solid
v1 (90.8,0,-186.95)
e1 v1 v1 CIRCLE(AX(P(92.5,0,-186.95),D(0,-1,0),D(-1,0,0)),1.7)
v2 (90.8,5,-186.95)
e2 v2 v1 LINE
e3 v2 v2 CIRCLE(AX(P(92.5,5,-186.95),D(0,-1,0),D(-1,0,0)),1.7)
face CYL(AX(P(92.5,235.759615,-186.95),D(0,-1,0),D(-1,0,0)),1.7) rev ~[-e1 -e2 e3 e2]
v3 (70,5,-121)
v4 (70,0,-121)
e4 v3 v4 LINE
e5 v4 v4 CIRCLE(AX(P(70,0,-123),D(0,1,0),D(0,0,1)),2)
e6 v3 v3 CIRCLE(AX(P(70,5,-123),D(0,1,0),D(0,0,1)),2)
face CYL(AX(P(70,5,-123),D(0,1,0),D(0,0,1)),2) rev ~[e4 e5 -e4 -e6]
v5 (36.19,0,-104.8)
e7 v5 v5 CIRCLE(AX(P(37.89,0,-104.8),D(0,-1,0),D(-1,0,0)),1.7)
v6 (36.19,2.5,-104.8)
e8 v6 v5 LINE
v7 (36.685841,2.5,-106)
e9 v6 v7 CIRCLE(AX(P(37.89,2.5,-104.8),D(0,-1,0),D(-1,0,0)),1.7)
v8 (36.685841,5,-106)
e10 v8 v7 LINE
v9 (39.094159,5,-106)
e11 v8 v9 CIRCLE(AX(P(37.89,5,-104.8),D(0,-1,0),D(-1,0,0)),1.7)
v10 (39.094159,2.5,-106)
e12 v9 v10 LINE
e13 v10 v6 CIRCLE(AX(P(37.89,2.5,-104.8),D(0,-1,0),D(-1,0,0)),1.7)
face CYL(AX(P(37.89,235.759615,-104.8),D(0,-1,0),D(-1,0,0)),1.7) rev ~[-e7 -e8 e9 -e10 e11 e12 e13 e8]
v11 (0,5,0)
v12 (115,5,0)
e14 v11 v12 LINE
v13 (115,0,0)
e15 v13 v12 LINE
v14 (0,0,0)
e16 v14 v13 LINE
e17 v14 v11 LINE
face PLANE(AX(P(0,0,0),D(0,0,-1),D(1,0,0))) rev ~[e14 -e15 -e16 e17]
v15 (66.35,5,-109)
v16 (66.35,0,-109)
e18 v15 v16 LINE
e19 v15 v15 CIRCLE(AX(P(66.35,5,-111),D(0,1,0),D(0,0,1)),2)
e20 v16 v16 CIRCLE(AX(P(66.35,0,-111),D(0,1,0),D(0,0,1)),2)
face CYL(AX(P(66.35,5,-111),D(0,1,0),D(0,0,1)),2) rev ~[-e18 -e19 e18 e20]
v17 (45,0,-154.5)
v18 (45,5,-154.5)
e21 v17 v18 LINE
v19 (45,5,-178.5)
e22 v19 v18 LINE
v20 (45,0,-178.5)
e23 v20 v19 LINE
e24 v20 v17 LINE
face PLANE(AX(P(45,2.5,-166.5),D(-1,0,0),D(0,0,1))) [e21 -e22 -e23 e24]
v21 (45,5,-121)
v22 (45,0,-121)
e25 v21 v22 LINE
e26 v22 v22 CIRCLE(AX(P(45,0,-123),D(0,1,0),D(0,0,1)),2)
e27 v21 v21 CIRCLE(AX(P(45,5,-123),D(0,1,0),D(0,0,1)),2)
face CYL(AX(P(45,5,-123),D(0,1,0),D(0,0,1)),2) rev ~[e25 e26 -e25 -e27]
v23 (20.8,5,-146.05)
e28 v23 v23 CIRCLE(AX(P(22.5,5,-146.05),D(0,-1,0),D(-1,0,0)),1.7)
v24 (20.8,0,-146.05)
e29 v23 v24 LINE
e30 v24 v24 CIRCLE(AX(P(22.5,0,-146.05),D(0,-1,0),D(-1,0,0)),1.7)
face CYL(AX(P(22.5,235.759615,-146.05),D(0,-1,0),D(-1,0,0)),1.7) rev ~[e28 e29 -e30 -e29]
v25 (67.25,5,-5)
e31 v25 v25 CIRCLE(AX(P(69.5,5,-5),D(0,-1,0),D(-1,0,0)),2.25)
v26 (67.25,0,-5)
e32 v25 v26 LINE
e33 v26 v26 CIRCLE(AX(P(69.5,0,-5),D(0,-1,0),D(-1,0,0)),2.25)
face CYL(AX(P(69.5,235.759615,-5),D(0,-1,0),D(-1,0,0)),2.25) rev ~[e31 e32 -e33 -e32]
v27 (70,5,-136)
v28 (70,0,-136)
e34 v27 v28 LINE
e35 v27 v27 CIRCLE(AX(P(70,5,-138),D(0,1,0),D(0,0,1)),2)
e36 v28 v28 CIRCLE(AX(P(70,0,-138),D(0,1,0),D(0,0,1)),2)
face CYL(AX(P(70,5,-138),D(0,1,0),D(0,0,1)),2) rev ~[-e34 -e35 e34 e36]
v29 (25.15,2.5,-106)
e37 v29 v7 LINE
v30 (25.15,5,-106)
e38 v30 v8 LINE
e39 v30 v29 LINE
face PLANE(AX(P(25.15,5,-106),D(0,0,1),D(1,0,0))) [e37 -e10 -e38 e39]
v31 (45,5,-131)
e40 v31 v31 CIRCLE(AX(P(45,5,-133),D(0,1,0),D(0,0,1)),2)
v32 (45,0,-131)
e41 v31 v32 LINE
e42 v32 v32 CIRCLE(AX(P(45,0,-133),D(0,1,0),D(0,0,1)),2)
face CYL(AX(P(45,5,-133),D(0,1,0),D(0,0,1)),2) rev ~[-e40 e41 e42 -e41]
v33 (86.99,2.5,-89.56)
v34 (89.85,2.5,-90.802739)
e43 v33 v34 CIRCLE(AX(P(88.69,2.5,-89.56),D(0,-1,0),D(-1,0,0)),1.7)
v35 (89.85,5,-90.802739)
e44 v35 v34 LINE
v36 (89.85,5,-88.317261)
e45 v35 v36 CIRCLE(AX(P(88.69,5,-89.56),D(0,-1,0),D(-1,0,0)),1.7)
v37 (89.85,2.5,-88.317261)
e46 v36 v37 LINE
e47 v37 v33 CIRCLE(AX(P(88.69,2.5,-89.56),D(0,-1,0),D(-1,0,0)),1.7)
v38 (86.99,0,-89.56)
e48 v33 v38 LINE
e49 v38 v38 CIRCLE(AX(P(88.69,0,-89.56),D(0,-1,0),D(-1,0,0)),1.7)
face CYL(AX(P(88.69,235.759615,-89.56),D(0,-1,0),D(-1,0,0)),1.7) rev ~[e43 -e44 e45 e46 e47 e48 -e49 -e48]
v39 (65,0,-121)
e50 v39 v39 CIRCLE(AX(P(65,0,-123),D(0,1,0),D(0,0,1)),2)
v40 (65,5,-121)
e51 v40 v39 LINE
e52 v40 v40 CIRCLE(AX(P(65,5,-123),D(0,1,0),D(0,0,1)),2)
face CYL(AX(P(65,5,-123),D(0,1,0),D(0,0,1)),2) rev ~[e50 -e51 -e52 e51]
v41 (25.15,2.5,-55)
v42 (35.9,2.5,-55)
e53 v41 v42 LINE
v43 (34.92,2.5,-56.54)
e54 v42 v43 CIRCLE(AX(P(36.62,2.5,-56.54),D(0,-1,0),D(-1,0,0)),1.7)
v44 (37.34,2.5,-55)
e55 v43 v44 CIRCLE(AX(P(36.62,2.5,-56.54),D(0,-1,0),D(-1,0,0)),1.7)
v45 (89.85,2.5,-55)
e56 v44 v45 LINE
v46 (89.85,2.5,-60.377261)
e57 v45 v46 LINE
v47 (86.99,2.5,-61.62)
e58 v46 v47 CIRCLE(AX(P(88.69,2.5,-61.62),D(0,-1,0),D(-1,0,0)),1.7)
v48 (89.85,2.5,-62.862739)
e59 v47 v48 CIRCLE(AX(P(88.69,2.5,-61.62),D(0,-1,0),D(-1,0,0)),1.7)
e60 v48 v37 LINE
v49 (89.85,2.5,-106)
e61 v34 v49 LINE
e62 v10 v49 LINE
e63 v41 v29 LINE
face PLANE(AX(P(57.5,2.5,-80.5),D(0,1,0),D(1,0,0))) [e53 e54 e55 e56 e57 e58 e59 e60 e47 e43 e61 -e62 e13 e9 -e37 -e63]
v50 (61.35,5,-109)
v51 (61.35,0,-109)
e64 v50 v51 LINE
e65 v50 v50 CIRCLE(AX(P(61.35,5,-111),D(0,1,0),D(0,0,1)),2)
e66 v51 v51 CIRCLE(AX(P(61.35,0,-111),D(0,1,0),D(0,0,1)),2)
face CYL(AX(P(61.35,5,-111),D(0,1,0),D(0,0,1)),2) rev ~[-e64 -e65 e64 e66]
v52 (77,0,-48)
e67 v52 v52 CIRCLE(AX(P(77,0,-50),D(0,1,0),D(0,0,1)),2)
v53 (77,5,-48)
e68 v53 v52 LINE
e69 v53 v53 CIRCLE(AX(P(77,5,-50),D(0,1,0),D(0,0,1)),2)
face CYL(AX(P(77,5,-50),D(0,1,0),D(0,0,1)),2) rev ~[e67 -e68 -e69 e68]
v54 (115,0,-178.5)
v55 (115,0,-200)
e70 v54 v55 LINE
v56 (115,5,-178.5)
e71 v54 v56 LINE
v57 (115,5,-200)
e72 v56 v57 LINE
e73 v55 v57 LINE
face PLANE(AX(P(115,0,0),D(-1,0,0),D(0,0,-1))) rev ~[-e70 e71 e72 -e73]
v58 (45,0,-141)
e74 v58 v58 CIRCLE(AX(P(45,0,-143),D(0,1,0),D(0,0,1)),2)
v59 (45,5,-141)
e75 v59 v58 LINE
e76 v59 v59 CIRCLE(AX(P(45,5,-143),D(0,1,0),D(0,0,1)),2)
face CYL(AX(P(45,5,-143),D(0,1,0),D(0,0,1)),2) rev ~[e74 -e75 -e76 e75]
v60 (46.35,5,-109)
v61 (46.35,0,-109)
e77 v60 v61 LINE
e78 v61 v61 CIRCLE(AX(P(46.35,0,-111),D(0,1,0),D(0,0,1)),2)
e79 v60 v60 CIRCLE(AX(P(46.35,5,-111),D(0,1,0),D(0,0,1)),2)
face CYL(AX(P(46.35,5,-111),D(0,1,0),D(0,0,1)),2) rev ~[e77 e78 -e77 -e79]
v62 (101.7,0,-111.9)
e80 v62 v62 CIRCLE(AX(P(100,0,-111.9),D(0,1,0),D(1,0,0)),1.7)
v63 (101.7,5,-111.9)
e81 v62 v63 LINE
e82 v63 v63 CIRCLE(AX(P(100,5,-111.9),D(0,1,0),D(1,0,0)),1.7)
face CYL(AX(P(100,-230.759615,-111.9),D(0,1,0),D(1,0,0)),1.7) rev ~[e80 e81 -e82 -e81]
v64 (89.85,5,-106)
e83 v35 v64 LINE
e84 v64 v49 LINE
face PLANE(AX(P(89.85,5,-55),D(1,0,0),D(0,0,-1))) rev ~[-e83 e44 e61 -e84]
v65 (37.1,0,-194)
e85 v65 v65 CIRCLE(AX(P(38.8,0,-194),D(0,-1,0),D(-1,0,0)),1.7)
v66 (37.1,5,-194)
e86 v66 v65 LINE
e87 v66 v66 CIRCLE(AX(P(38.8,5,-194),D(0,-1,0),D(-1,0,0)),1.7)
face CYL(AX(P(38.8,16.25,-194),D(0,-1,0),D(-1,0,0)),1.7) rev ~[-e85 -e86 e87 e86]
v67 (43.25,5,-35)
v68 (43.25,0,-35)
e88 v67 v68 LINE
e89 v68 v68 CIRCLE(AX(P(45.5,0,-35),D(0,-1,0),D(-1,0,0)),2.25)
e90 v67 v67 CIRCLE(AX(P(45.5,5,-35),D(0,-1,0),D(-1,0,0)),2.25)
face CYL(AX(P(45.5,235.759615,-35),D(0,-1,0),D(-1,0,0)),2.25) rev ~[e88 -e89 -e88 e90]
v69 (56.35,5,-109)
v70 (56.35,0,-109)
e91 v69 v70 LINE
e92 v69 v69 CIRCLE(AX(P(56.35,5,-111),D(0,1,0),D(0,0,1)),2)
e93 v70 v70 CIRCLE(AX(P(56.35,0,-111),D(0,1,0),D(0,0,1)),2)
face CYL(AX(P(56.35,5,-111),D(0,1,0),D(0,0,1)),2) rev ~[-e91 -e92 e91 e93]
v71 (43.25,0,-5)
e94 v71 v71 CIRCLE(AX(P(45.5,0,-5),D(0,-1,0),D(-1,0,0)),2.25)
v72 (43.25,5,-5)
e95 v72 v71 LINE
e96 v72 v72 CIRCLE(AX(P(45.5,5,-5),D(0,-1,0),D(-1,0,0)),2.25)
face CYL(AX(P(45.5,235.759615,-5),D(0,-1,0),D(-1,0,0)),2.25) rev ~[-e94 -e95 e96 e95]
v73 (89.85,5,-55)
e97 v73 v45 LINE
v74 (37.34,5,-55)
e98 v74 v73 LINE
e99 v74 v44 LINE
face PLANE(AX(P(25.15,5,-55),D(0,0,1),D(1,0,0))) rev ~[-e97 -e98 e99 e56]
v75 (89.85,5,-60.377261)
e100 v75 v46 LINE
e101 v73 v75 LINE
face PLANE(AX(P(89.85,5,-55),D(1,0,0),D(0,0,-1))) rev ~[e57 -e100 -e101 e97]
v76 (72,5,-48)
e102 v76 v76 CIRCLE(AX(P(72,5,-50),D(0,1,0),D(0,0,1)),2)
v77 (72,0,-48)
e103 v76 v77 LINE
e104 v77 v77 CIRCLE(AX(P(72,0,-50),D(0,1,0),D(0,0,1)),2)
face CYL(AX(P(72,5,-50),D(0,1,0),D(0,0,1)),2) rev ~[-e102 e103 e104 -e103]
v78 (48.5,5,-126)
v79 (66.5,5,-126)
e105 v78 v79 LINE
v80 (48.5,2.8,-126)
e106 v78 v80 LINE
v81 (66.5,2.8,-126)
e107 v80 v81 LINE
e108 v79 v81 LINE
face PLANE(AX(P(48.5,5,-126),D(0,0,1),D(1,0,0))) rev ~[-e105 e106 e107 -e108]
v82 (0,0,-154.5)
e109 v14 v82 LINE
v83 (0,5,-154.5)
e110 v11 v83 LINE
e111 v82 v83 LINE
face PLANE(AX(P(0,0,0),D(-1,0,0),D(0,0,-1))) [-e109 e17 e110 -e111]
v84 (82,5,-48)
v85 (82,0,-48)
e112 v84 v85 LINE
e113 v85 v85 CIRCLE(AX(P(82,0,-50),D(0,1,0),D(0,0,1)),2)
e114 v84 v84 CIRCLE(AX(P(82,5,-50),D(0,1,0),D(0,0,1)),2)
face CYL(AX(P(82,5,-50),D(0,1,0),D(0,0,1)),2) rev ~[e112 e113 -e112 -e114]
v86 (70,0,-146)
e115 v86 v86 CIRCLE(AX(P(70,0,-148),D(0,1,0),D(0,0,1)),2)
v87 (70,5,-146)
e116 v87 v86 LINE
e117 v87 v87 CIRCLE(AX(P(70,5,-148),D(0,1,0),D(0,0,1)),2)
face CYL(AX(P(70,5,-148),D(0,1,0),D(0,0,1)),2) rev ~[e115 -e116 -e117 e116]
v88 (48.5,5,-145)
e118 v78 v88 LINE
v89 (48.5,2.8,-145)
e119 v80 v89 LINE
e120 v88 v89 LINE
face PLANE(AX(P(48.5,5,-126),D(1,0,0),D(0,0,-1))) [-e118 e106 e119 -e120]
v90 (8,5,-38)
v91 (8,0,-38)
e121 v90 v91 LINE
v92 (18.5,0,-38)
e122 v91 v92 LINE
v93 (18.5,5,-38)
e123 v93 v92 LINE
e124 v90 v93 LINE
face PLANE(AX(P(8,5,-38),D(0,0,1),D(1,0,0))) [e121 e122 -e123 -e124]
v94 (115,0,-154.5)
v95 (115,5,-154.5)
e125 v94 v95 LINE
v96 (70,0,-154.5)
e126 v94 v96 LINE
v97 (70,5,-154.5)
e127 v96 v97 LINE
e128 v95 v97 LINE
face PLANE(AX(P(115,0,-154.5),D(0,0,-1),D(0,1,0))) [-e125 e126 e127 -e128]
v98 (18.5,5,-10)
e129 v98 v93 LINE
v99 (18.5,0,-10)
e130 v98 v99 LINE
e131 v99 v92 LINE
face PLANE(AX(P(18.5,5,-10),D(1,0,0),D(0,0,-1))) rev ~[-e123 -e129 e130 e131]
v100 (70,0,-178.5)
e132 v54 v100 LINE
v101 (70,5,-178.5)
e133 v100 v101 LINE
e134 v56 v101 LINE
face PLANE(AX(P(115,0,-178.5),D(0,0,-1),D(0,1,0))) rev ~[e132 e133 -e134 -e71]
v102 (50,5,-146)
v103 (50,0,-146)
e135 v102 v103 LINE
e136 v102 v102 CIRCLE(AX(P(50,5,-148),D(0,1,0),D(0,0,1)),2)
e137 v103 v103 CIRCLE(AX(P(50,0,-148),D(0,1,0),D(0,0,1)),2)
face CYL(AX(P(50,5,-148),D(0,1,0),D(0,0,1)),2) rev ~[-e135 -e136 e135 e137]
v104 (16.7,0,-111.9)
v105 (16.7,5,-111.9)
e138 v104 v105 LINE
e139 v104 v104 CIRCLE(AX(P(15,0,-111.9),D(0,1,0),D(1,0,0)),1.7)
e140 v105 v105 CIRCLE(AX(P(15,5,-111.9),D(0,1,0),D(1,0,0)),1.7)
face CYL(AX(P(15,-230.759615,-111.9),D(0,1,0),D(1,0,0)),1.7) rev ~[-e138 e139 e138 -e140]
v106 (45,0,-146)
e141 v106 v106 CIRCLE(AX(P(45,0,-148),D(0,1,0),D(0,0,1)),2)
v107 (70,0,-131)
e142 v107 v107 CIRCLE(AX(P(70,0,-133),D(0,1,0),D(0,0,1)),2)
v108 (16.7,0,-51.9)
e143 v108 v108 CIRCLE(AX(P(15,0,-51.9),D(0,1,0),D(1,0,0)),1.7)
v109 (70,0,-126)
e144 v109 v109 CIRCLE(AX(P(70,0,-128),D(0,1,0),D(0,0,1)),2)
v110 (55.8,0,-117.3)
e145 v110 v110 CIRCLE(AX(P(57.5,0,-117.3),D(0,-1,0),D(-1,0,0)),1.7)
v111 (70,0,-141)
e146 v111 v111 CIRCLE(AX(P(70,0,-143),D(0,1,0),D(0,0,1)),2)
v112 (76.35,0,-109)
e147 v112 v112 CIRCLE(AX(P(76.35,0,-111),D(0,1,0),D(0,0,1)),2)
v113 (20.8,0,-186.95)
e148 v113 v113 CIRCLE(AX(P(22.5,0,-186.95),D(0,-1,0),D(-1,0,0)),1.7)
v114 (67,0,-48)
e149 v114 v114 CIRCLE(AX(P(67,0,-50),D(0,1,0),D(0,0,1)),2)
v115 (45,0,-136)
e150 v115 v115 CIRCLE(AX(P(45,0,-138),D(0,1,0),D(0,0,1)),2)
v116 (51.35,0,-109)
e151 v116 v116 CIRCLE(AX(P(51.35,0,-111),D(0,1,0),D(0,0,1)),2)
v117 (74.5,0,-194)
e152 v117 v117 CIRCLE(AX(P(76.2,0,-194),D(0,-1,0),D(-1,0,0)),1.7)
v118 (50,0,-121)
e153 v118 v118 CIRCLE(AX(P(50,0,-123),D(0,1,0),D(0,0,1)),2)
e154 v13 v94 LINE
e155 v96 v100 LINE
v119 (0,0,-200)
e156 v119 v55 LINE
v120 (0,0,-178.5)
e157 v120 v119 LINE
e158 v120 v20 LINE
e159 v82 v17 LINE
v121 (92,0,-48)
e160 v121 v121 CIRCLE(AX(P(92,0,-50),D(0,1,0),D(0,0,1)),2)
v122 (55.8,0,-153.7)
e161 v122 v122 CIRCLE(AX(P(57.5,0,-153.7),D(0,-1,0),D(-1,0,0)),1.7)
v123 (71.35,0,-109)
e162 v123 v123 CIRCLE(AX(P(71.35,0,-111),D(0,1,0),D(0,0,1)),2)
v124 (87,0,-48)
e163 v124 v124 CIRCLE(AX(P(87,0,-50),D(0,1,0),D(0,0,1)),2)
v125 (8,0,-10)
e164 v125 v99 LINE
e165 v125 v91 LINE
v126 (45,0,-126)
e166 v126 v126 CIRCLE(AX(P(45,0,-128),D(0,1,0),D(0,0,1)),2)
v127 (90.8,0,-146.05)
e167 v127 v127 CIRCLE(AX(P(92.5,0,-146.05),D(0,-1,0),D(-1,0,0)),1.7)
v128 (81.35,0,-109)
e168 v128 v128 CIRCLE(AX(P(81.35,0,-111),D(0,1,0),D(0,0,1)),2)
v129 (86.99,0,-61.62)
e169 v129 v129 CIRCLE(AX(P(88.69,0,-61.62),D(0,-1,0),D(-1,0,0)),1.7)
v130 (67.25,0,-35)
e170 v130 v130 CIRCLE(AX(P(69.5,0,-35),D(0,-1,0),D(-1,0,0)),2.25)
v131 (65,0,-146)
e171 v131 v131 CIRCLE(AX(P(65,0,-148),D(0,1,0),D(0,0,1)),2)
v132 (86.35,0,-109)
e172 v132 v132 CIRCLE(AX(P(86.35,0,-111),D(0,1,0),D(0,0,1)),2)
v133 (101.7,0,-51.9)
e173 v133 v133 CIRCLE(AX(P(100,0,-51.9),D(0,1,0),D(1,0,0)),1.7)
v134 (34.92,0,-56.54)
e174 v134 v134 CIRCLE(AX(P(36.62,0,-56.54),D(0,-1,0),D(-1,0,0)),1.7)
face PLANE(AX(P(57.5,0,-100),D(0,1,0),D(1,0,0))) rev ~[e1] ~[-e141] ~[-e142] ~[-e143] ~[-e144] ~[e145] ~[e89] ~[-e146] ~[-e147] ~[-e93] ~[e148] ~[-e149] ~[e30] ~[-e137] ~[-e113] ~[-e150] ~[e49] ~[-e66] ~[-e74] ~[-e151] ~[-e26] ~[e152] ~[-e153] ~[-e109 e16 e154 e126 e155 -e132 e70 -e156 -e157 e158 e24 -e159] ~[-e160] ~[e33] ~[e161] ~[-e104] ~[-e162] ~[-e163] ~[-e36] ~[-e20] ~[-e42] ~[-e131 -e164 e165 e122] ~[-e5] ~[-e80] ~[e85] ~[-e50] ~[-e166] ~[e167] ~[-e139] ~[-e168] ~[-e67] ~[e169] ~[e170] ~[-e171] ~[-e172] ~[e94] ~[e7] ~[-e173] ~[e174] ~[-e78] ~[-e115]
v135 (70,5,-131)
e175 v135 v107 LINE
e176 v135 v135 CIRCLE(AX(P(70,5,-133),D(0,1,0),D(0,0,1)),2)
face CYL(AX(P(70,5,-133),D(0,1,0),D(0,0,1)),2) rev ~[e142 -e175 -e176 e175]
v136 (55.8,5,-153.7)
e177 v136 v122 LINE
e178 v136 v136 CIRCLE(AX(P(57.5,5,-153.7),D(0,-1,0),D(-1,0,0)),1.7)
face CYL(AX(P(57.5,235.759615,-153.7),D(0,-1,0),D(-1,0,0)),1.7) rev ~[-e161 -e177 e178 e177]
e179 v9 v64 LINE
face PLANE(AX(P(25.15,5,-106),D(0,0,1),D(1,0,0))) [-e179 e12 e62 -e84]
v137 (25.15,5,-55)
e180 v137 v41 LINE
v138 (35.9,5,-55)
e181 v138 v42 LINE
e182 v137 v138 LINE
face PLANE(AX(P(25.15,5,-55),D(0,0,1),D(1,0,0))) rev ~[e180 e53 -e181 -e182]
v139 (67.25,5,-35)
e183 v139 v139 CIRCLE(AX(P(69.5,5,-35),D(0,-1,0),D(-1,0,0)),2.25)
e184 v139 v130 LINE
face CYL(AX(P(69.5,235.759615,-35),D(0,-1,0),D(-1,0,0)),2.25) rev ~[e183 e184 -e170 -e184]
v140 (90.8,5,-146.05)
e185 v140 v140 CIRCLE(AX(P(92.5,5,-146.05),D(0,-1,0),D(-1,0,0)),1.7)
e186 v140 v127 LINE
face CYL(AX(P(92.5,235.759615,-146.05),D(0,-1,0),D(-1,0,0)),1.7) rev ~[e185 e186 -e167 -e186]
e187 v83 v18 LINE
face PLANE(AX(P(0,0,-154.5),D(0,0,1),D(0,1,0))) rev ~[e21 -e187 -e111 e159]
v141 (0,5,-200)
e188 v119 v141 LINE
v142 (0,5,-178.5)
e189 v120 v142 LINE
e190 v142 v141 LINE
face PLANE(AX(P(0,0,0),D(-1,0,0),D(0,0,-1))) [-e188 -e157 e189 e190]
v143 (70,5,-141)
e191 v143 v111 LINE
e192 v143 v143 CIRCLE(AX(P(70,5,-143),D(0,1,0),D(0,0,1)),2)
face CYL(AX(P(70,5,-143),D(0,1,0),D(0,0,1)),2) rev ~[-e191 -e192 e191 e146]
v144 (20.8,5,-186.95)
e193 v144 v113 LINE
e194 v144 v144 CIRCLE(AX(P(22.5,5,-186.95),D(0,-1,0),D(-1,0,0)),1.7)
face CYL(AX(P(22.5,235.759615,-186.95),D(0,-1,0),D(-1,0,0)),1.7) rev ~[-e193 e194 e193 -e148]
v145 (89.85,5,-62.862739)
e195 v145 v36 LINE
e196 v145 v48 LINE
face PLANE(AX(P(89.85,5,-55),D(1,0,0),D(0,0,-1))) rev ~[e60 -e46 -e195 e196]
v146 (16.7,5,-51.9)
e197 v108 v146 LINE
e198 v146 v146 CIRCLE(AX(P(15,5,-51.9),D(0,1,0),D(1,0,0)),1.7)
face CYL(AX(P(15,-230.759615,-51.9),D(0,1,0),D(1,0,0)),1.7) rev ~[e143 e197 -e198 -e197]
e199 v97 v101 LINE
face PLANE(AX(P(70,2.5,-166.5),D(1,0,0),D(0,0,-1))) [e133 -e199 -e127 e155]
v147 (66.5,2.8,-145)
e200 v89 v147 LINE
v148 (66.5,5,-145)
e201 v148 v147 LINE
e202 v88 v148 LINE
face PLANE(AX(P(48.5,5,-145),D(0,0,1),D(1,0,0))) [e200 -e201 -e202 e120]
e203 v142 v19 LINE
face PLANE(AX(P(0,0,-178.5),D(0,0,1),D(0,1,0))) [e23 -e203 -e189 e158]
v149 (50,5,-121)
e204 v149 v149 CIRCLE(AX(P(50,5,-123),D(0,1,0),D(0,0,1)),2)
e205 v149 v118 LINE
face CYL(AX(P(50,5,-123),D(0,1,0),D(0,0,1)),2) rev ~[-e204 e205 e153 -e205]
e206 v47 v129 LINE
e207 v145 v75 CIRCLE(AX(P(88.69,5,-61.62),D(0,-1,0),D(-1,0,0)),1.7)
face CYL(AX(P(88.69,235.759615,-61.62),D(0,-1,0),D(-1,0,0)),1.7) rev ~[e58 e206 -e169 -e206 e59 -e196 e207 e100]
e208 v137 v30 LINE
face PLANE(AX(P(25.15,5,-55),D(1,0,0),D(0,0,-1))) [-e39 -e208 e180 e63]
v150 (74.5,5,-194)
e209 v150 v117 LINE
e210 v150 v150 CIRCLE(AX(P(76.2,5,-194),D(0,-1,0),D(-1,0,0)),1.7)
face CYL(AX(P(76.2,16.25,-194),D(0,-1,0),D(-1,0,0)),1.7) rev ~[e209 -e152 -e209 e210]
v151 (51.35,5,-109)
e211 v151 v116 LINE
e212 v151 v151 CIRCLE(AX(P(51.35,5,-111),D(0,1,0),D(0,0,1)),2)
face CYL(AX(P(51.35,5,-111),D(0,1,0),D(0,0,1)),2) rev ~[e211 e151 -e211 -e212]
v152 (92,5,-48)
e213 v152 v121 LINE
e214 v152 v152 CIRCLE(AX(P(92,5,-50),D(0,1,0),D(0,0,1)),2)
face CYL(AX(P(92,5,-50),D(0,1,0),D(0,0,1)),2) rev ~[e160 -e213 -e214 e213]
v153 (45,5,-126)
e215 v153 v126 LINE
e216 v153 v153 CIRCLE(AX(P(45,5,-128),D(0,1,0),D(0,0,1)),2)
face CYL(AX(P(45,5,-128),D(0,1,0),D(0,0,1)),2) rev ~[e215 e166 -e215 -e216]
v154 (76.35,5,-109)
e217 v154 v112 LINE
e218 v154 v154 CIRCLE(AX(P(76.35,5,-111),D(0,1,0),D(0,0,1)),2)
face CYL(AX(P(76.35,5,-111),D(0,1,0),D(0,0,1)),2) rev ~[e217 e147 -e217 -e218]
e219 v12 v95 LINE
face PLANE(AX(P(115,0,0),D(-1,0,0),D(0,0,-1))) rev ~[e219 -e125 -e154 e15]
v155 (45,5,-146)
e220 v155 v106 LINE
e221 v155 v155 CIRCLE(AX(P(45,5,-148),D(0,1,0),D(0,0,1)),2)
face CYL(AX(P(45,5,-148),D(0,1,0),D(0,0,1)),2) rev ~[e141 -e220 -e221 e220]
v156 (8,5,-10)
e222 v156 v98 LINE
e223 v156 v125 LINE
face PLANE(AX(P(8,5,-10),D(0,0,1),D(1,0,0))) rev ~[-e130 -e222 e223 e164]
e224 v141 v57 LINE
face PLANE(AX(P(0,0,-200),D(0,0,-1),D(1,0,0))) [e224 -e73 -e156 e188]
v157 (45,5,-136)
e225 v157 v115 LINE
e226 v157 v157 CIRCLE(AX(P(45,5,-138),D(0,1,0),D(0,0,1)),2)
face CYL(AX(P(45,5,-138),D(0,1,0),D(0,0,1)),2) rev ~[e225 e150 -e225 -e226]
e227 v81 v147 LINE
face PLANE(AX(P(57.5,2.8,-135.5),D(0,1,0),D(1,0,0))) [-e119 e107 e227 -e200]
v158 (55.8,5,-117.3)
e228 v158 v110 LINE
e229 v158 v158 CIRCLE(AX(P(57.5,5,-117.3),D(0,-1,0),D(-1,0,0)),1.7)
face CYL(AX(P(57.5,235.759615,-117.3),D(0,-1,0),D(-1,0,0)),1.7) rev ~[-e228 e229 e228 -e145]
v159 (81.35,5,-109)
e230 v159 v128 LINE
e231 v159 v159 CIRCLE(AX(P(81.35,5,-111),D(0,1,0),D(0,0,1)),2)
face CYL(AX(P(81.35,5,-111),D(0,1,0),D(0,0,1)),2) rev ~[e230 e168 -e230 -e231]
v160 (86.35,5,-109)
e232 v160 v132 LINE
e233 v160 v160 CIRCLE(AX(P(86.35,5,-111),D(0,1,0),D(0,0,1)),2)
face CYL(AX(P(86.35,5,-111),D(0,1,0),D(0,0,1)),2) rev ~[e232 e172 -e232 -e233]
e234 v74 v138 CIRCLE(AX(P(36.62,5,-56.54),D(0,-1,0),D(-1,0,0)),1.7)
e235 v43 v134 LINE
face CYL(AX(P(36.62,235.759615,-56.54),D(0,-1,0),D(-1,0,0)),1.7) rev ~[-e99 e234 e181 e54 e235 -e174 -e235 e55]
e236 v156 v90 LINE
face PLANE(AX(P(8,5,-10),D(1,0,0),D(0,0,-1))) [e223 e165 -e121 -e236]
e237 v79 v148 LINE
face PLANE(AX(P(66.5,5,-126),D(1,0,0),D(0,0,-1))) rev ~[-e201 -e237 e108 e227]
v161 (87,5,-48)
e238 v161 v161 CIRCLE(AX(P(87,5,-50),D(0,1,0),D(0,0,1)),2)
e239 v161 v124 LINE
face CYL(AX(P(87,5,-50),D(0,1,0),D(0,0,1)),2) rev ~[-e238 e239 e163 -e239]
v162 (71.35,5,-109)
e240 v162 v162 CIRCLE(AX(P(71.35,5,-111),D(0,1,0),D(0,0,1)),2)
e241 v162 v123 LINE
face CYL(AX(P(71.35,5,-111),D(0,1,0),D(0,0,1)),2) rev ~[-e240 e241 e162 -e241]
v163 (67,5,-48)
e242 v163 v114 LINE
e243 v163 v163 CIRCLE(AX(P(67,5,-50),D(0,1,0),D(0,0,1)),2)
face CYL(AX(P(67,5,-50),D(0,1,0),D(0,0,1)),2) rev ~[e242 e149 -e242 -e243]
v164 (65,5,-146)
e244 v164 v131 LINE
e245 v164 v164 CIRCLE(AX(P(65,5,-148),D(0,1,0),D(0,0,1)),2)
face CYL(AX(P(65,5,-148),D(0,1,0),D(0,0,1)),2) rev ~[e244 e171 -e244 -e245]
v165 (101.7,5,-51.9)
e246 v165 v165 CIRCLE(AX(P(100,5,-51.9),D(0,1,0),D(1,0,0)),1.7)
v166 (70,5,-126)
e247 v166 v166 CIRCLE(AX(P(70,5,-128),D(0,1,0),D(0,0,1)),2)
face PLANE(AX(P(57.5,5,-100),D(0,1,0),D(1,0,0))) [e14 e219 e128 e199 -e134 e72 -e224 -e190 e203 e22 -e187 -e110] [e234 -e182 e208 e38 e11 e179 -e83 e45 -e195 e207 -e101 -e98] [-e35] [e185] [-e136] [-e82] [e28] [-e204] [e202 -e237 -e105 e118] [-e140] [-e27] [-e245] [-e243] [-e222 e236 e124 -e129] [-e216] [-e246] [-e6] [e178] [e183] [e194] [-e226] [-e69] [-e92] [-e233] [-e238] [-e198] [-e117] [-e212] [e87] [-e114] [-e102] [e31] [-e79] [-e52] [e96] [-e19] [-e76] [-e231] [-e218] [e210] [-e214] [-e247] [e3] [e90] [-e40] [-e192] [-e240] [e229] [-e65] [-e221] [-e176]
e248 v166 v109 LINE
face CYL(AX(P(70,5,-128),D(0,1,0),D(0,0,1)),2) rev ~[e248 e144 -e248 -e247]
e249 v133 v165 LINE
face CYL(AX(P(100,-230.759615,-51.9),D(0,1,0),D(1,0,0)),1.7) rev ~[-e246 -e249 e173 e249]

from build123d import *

# Parameters (mm, degrees)
ESBO_O1_W                   = 115
ESBO_O1_H                   = 200
RESSALTO_EXTRUS_O1_DEPTH    = 5
FURO_COM_FOLGA_DE_M41_D     = 4.5
ESBO_O5_W                   = 24
ESBO_O5_H                   = 5
CORTE_EXTRUS_O1_DEPTH       = 45
ESBO_O6_W                   = 24
ESBO_O6_H                   = 5
CORTE_EXTRUS_O2_DEPTH       = 45
ESBO_O7_W                   = 64.7
ESBO_O7_H                   = 51
CORTE_EXTRUS_O3_DEPTH       = 2.5
FURO_COM_FOLGA_DE_M31_D     = 3.4
ESBO_O10_W                  = 18
ESBO_O10_H                  = 19
CORTE_EXTRUS_O4_DEPTH       = 2.2
ESBO_O11_W                  = 10.5
ESBO_O11_H                  = 28
CORTE_EXTRUS_O5_DEPTH       = 231.759615184
FURO_COM_FOLGA_DE_M32_D     = 3.4
FURO_COM_FOLGA_DE_M33_D     = 3.4
FURO_COM_FOLGA_DE_M34_D     = 3.4
FURO_COM_FOLGA_DE_M35_D     = 3.4
FURO_COM_FOLGA_DE_M35_DEPTH = 11.25
FURO_COM_FOLGA_DE_M35_TIP   = 1.021463052
ESBO_O24_R                  = 2
CORTE_EXTRUS_O6_DEPTH       = 231.759615184
ESBO_O26_R                  = 2
CORTE_EXTRUS_O7_DEPTH       = 231.759615184
ESBO_O27_R                  = 2
CORTE_EXTRUS_O8_DEPTH       = 231.759615184


with BuildPart() as part:
    # Esboço1 → Ressalto-extrusão1 (new body)
    with BuildSketch(Plane(origin=(0, 0, 0), x_dir=(1, 0, 0), z_dir=(0, 1, 0))):
        with Locations((57.5, 100)):
            Rectangle(ESBO_O1_W, ESBO_O1_H)
    extrude(amount=RESSALTO_EXTRUS_O1_DEPTH)

    # Furo com folga de M41 (through all)
    with Locations(Plane(origin=(0, 5, 0), x_dir=(1, 0, 0), z_dir=(0, 1, 0))):
        with Locations((45.5, 5), (69.5, 5), (69.5, 35), (45.5, 35)):
            Hole(FURO_COM_FOLGA_DE_M41_D / 2)

    # Esboço5 → Corte-extrusão1 (cut)
    with BuildSketch(Plane.ZY):
        with Locations((-166.5, 2.5)):
            Rectangle(ESBO_O5_W, ESBO_O5_H)
    extrude(amount=-CORTE_EXTRUS_O1_DEPTH, mode=Mode.SUBTRACT)

    # Esboço6 → Corte-extrusão2 (cut)
    with BuildSketch(Plane(origin=(115, 0, 0), x_dir=(0, 0, -1), z_dir=(1, 0, 0))):
        with Locations((166.5, 2.5)):
            Rectangle(ESBO_O6_W, ESBO_O6_H)
    extrude(amount=-CORTE_EXTRUS_O2_DEPTH, mode=Mode.SUBTRACT)

    # Esboço7 → Corte-extrusão3 (cut)
    with BuildSketch(Plane(origin=(0, 5, 0), x_dir=(1, 0, 0), z_dir=(0, 1, 0))):
        with Locations((57.5, 80.5)):
            Rectangle(ESBO_O7_W, ESBO_O7_H)
    extrude(amount=-CORTE_EXTRUS_O3_DEPTH, mode=Mode.SUBTRACT)

    # Furo com folga de M31 (through all)
    with Locations(Plane(origin=(0, 5, 0), x_dir=(1, 0, 0), z_dir=(0, 1, 0))):
        with Locations((88.69, 61.62), (88.69, 89.56), (37.89, 104.8), (36.62, 56.54)):
            Hole(FURO_COM_FOLGA_DE_M31_D / 2)

    # Esboço10 → Corte-extrusão4 (cut)
    with BuildSketch(Plane(origin=(0, 5, 0), x_dir=(1, 0, 0), z_dir=(0, 1, 0))):
        with Locations((57.5, 135.5)):
            Rectangle(ESBO_O10_W, ESBO_O10_H)
    extrude(amount=-CORTE_EXTRUS_O4_DEPTH, mode=Mode.SUBTRACT)

    # Esboço11 → Corte-extrusão5 (cut, through all)
    with BuildSketch(Plane(origin=(0, 5, 0), x_dir=(1, 0, 0), z_dir=(0, 1, 0))):
        with Locations((13.25, 24)):
            Rectangle(ESBO_O11_W, ESBO_O11_H)
    extrude(amount=-CORTE_EXTRUS_O5_DEPTH, mode=Mode.SUBTRACT)

    # Furo com folga de M32 (through all)
    with Locations(Plane(origin=(0, 0, 0), x_dir=(-1, 0, 0), z_dir=(0, -1, 0))):
        with Locations((-15, 51.9), (-100, 51.9), (-100, 111.9), (-15, 111.9)):
            Hole(FURO_COM_FOLGA_DE_M32_D / 2)

    # Furo com folga de M33 (through all)
    with Locations(Plane(origin=(0, 5, 0), x_dir=(1, 0, 0), z_dir=(0, 1, 0))):
        with Locations((57.5, 153.7), (57.5, 117.3)):
            Hole(FURO_COM_FOLGA_DE_M33_D / 2)

    # Furo com folga de M34 (through all)
    with Locations(Plane(origin=(0, 5, 0), x_dir=(1, 0, 0), z_dir=(0, 1, 0))):
        with Locations((22.5, 186.95), (22.5, 146.05), (92.5, 186.95), (92.5, 146.05)):
            Hole(FURO_COM_FOLGA_DE_M34_D / 2)

    # Furo com folga de M35
    with Locations(Plane(origin=(0, 5, 0), x_dir=(1, 0, 0), z_dir=(0, 1, 0))):
        with Locations((76.2, 194), (38.8, 194)):
            Hole(FURO_COM_FOLGA_DE_M35_D / 2, depth=FURO_COM_FOLGA_DE_M35_DEPTH)
            with Locations((0, 0, -(FURO_COM_FOLGA_DE_M35_DEPTH + FURO_COM_FOLGA_DE_M35_TIP / 2))):  # 118° drill point
                Cone(0, FURO_COM_FOLGA_DE_M35_D / 2, FURO_COM_FOLGA_DE_M35_TIP, mode=Mode.SUBTRACT)

    # Esboço24 → Corte-extrusão6 (cut, through all)
    with BuildSketch(Plane(origin=(0, 5, 0), x_dir=(1, 0, 0), z_dir=(0, 1, 0))):
        with Locations(Location((45, 148, 0), (0, 0, 270))):
            Circle(ESBO_O24_R)
        with Locations(Location((50, 148, 0), (0, 0, 270))):
            Circle(ESBO_O24_R)
        with Locations(Location((65, 148, 0), (0, 0, 270))):
            Circle(ESBO_O24_R)
        with Locations(Location((70, 148, 0), (0, 0, 270))):
            Circle(ESBO_O24_R)
        with Locations(Location((70, 143, 0), (0, 0, 270))):
            Circle(ESBO_O24_R)
        with Locations(Location((70, 138, 0), (0, 0, 270))):
            Circle(ESBO_O24_R)
        with Locations(Location((70, 133, 0), (0, 0, 270))):
            Circle(ESBO_O24_R)
        with Locations(Location((70, 128, 0), (0, 0, 270))):
            Circle(ESBO_O24_R)
        with Locations(Location((70, 123, 0), (0, 0, 270))):
            Circle(ESBO_O24_R)
        with Locations(Location((65, 123, 0), (0, 0, 270))):
            Circle(ESBO_O24_R)
        with Locations(Location((50, 123, 0), (0, 0, 270))):
            Circle(ESBO_O24_R)
        with Locations(Location((45, 123, 0), (0, 0, 270))):
            Circle(ESBO_O24_R)
        with Locations(Location((45, 128, 0), (0, 0, 270))):
            Circle(ESBO_O24_R)
        with Locations(Location((45, 133, 0), (0, 0, 270))):
            Circle(ESBO_O24_R)
        with Locations(Location((45, 138, 0), (0, 0, 270))):
            Circle(ESBO_O24_R)
        with Locations(Location((45, 143, 0), (0, 0, 270))):
            Circle(ESBO_O24_R)
    extrude(amount=-CORTE_EXTRUS_O6_DEPTH, mode=Mode.SUBTRACT)

    # Esboço26 → Corte-extrusão7 (cut, through all)
    with BuildSketch(Plane(origin=(0, 5, 0), x_dir=(1, 0, 0), z_dir=(0, 1, 0))):
        with Locations(Location((46.35, 111, 0), (0, 0, 270))):
            Circle(ESBO_O26_R)
        with Locations(Location((51.35, 111, 0), (0, 0, 270))):
            Circle(ESBO_O26_R)
        with Locations(Location((61.35, 111, 0), (0, 0, 270))):
            Circle(ESBO_O26_R)
        with Locations(Location((66.35, 111, 0), (0, 0, 270))):
            Circle(ESBO_O26_R)
        with Locations(Location((71.35, 111, 0), (0, 0, 270))):
            Circle(ESBO_O26_R)
        with Locations(Location((81.35, 111, 0), (0, 0, 270))):
            Circle(ESBO_O26_R)
        with Locations(Location((86.35, 111, 0), (0, 0, 270))):
            Circle(ESBO_O26_R)
        with Locations(Location((56.35, 111, 0), (0, 0, 270))):
            Circle(ESBO_O26_R)
        with Locations(Location((76.35, 111, 0), (0, 0, 270))):
            Circle(ESBO_O26_R)
    extrude(amount=-CORTE_EXTRUS_O7_DEPTH, mode=Mode.SUBTRACT)

    # Esboço27 → Corte-extrusão8 (cut, through all)
    with BuildSketch(Plane(origin=(0, 5, 0), x_dir=(1, 0, 0), z_dir=(0, 1, 0))):
        with Locations(Location((92, 50, 0), (0, 0, 270))):
            Circle(ESBO_O27_R)
        with Locations(Location((82, 50, 0), (0, 0, 270))):
            Circle(ESBO_O27_R)
        with Locations(Location((67, 50, 0), (0, 0, 270))):
            Circle(ESBO_O27_R)
        with Locations(Location((77, 50, 0), (0, 0, 270))):
            Circle(ESBO_O27_R)
        with Locations(Location((72, 50, 0), (0, 0, 270))):
            Circle(ESBO_O27_R)
        with Locations(Location((87, 50, 0), (0, 0, 270))):
            Circle(ESBO_O27_R)
    extrude(amount=-CORTE_EXTRUS_O8_DEPTH, mode=Mode.SUBTRACT)


solid = part.part
